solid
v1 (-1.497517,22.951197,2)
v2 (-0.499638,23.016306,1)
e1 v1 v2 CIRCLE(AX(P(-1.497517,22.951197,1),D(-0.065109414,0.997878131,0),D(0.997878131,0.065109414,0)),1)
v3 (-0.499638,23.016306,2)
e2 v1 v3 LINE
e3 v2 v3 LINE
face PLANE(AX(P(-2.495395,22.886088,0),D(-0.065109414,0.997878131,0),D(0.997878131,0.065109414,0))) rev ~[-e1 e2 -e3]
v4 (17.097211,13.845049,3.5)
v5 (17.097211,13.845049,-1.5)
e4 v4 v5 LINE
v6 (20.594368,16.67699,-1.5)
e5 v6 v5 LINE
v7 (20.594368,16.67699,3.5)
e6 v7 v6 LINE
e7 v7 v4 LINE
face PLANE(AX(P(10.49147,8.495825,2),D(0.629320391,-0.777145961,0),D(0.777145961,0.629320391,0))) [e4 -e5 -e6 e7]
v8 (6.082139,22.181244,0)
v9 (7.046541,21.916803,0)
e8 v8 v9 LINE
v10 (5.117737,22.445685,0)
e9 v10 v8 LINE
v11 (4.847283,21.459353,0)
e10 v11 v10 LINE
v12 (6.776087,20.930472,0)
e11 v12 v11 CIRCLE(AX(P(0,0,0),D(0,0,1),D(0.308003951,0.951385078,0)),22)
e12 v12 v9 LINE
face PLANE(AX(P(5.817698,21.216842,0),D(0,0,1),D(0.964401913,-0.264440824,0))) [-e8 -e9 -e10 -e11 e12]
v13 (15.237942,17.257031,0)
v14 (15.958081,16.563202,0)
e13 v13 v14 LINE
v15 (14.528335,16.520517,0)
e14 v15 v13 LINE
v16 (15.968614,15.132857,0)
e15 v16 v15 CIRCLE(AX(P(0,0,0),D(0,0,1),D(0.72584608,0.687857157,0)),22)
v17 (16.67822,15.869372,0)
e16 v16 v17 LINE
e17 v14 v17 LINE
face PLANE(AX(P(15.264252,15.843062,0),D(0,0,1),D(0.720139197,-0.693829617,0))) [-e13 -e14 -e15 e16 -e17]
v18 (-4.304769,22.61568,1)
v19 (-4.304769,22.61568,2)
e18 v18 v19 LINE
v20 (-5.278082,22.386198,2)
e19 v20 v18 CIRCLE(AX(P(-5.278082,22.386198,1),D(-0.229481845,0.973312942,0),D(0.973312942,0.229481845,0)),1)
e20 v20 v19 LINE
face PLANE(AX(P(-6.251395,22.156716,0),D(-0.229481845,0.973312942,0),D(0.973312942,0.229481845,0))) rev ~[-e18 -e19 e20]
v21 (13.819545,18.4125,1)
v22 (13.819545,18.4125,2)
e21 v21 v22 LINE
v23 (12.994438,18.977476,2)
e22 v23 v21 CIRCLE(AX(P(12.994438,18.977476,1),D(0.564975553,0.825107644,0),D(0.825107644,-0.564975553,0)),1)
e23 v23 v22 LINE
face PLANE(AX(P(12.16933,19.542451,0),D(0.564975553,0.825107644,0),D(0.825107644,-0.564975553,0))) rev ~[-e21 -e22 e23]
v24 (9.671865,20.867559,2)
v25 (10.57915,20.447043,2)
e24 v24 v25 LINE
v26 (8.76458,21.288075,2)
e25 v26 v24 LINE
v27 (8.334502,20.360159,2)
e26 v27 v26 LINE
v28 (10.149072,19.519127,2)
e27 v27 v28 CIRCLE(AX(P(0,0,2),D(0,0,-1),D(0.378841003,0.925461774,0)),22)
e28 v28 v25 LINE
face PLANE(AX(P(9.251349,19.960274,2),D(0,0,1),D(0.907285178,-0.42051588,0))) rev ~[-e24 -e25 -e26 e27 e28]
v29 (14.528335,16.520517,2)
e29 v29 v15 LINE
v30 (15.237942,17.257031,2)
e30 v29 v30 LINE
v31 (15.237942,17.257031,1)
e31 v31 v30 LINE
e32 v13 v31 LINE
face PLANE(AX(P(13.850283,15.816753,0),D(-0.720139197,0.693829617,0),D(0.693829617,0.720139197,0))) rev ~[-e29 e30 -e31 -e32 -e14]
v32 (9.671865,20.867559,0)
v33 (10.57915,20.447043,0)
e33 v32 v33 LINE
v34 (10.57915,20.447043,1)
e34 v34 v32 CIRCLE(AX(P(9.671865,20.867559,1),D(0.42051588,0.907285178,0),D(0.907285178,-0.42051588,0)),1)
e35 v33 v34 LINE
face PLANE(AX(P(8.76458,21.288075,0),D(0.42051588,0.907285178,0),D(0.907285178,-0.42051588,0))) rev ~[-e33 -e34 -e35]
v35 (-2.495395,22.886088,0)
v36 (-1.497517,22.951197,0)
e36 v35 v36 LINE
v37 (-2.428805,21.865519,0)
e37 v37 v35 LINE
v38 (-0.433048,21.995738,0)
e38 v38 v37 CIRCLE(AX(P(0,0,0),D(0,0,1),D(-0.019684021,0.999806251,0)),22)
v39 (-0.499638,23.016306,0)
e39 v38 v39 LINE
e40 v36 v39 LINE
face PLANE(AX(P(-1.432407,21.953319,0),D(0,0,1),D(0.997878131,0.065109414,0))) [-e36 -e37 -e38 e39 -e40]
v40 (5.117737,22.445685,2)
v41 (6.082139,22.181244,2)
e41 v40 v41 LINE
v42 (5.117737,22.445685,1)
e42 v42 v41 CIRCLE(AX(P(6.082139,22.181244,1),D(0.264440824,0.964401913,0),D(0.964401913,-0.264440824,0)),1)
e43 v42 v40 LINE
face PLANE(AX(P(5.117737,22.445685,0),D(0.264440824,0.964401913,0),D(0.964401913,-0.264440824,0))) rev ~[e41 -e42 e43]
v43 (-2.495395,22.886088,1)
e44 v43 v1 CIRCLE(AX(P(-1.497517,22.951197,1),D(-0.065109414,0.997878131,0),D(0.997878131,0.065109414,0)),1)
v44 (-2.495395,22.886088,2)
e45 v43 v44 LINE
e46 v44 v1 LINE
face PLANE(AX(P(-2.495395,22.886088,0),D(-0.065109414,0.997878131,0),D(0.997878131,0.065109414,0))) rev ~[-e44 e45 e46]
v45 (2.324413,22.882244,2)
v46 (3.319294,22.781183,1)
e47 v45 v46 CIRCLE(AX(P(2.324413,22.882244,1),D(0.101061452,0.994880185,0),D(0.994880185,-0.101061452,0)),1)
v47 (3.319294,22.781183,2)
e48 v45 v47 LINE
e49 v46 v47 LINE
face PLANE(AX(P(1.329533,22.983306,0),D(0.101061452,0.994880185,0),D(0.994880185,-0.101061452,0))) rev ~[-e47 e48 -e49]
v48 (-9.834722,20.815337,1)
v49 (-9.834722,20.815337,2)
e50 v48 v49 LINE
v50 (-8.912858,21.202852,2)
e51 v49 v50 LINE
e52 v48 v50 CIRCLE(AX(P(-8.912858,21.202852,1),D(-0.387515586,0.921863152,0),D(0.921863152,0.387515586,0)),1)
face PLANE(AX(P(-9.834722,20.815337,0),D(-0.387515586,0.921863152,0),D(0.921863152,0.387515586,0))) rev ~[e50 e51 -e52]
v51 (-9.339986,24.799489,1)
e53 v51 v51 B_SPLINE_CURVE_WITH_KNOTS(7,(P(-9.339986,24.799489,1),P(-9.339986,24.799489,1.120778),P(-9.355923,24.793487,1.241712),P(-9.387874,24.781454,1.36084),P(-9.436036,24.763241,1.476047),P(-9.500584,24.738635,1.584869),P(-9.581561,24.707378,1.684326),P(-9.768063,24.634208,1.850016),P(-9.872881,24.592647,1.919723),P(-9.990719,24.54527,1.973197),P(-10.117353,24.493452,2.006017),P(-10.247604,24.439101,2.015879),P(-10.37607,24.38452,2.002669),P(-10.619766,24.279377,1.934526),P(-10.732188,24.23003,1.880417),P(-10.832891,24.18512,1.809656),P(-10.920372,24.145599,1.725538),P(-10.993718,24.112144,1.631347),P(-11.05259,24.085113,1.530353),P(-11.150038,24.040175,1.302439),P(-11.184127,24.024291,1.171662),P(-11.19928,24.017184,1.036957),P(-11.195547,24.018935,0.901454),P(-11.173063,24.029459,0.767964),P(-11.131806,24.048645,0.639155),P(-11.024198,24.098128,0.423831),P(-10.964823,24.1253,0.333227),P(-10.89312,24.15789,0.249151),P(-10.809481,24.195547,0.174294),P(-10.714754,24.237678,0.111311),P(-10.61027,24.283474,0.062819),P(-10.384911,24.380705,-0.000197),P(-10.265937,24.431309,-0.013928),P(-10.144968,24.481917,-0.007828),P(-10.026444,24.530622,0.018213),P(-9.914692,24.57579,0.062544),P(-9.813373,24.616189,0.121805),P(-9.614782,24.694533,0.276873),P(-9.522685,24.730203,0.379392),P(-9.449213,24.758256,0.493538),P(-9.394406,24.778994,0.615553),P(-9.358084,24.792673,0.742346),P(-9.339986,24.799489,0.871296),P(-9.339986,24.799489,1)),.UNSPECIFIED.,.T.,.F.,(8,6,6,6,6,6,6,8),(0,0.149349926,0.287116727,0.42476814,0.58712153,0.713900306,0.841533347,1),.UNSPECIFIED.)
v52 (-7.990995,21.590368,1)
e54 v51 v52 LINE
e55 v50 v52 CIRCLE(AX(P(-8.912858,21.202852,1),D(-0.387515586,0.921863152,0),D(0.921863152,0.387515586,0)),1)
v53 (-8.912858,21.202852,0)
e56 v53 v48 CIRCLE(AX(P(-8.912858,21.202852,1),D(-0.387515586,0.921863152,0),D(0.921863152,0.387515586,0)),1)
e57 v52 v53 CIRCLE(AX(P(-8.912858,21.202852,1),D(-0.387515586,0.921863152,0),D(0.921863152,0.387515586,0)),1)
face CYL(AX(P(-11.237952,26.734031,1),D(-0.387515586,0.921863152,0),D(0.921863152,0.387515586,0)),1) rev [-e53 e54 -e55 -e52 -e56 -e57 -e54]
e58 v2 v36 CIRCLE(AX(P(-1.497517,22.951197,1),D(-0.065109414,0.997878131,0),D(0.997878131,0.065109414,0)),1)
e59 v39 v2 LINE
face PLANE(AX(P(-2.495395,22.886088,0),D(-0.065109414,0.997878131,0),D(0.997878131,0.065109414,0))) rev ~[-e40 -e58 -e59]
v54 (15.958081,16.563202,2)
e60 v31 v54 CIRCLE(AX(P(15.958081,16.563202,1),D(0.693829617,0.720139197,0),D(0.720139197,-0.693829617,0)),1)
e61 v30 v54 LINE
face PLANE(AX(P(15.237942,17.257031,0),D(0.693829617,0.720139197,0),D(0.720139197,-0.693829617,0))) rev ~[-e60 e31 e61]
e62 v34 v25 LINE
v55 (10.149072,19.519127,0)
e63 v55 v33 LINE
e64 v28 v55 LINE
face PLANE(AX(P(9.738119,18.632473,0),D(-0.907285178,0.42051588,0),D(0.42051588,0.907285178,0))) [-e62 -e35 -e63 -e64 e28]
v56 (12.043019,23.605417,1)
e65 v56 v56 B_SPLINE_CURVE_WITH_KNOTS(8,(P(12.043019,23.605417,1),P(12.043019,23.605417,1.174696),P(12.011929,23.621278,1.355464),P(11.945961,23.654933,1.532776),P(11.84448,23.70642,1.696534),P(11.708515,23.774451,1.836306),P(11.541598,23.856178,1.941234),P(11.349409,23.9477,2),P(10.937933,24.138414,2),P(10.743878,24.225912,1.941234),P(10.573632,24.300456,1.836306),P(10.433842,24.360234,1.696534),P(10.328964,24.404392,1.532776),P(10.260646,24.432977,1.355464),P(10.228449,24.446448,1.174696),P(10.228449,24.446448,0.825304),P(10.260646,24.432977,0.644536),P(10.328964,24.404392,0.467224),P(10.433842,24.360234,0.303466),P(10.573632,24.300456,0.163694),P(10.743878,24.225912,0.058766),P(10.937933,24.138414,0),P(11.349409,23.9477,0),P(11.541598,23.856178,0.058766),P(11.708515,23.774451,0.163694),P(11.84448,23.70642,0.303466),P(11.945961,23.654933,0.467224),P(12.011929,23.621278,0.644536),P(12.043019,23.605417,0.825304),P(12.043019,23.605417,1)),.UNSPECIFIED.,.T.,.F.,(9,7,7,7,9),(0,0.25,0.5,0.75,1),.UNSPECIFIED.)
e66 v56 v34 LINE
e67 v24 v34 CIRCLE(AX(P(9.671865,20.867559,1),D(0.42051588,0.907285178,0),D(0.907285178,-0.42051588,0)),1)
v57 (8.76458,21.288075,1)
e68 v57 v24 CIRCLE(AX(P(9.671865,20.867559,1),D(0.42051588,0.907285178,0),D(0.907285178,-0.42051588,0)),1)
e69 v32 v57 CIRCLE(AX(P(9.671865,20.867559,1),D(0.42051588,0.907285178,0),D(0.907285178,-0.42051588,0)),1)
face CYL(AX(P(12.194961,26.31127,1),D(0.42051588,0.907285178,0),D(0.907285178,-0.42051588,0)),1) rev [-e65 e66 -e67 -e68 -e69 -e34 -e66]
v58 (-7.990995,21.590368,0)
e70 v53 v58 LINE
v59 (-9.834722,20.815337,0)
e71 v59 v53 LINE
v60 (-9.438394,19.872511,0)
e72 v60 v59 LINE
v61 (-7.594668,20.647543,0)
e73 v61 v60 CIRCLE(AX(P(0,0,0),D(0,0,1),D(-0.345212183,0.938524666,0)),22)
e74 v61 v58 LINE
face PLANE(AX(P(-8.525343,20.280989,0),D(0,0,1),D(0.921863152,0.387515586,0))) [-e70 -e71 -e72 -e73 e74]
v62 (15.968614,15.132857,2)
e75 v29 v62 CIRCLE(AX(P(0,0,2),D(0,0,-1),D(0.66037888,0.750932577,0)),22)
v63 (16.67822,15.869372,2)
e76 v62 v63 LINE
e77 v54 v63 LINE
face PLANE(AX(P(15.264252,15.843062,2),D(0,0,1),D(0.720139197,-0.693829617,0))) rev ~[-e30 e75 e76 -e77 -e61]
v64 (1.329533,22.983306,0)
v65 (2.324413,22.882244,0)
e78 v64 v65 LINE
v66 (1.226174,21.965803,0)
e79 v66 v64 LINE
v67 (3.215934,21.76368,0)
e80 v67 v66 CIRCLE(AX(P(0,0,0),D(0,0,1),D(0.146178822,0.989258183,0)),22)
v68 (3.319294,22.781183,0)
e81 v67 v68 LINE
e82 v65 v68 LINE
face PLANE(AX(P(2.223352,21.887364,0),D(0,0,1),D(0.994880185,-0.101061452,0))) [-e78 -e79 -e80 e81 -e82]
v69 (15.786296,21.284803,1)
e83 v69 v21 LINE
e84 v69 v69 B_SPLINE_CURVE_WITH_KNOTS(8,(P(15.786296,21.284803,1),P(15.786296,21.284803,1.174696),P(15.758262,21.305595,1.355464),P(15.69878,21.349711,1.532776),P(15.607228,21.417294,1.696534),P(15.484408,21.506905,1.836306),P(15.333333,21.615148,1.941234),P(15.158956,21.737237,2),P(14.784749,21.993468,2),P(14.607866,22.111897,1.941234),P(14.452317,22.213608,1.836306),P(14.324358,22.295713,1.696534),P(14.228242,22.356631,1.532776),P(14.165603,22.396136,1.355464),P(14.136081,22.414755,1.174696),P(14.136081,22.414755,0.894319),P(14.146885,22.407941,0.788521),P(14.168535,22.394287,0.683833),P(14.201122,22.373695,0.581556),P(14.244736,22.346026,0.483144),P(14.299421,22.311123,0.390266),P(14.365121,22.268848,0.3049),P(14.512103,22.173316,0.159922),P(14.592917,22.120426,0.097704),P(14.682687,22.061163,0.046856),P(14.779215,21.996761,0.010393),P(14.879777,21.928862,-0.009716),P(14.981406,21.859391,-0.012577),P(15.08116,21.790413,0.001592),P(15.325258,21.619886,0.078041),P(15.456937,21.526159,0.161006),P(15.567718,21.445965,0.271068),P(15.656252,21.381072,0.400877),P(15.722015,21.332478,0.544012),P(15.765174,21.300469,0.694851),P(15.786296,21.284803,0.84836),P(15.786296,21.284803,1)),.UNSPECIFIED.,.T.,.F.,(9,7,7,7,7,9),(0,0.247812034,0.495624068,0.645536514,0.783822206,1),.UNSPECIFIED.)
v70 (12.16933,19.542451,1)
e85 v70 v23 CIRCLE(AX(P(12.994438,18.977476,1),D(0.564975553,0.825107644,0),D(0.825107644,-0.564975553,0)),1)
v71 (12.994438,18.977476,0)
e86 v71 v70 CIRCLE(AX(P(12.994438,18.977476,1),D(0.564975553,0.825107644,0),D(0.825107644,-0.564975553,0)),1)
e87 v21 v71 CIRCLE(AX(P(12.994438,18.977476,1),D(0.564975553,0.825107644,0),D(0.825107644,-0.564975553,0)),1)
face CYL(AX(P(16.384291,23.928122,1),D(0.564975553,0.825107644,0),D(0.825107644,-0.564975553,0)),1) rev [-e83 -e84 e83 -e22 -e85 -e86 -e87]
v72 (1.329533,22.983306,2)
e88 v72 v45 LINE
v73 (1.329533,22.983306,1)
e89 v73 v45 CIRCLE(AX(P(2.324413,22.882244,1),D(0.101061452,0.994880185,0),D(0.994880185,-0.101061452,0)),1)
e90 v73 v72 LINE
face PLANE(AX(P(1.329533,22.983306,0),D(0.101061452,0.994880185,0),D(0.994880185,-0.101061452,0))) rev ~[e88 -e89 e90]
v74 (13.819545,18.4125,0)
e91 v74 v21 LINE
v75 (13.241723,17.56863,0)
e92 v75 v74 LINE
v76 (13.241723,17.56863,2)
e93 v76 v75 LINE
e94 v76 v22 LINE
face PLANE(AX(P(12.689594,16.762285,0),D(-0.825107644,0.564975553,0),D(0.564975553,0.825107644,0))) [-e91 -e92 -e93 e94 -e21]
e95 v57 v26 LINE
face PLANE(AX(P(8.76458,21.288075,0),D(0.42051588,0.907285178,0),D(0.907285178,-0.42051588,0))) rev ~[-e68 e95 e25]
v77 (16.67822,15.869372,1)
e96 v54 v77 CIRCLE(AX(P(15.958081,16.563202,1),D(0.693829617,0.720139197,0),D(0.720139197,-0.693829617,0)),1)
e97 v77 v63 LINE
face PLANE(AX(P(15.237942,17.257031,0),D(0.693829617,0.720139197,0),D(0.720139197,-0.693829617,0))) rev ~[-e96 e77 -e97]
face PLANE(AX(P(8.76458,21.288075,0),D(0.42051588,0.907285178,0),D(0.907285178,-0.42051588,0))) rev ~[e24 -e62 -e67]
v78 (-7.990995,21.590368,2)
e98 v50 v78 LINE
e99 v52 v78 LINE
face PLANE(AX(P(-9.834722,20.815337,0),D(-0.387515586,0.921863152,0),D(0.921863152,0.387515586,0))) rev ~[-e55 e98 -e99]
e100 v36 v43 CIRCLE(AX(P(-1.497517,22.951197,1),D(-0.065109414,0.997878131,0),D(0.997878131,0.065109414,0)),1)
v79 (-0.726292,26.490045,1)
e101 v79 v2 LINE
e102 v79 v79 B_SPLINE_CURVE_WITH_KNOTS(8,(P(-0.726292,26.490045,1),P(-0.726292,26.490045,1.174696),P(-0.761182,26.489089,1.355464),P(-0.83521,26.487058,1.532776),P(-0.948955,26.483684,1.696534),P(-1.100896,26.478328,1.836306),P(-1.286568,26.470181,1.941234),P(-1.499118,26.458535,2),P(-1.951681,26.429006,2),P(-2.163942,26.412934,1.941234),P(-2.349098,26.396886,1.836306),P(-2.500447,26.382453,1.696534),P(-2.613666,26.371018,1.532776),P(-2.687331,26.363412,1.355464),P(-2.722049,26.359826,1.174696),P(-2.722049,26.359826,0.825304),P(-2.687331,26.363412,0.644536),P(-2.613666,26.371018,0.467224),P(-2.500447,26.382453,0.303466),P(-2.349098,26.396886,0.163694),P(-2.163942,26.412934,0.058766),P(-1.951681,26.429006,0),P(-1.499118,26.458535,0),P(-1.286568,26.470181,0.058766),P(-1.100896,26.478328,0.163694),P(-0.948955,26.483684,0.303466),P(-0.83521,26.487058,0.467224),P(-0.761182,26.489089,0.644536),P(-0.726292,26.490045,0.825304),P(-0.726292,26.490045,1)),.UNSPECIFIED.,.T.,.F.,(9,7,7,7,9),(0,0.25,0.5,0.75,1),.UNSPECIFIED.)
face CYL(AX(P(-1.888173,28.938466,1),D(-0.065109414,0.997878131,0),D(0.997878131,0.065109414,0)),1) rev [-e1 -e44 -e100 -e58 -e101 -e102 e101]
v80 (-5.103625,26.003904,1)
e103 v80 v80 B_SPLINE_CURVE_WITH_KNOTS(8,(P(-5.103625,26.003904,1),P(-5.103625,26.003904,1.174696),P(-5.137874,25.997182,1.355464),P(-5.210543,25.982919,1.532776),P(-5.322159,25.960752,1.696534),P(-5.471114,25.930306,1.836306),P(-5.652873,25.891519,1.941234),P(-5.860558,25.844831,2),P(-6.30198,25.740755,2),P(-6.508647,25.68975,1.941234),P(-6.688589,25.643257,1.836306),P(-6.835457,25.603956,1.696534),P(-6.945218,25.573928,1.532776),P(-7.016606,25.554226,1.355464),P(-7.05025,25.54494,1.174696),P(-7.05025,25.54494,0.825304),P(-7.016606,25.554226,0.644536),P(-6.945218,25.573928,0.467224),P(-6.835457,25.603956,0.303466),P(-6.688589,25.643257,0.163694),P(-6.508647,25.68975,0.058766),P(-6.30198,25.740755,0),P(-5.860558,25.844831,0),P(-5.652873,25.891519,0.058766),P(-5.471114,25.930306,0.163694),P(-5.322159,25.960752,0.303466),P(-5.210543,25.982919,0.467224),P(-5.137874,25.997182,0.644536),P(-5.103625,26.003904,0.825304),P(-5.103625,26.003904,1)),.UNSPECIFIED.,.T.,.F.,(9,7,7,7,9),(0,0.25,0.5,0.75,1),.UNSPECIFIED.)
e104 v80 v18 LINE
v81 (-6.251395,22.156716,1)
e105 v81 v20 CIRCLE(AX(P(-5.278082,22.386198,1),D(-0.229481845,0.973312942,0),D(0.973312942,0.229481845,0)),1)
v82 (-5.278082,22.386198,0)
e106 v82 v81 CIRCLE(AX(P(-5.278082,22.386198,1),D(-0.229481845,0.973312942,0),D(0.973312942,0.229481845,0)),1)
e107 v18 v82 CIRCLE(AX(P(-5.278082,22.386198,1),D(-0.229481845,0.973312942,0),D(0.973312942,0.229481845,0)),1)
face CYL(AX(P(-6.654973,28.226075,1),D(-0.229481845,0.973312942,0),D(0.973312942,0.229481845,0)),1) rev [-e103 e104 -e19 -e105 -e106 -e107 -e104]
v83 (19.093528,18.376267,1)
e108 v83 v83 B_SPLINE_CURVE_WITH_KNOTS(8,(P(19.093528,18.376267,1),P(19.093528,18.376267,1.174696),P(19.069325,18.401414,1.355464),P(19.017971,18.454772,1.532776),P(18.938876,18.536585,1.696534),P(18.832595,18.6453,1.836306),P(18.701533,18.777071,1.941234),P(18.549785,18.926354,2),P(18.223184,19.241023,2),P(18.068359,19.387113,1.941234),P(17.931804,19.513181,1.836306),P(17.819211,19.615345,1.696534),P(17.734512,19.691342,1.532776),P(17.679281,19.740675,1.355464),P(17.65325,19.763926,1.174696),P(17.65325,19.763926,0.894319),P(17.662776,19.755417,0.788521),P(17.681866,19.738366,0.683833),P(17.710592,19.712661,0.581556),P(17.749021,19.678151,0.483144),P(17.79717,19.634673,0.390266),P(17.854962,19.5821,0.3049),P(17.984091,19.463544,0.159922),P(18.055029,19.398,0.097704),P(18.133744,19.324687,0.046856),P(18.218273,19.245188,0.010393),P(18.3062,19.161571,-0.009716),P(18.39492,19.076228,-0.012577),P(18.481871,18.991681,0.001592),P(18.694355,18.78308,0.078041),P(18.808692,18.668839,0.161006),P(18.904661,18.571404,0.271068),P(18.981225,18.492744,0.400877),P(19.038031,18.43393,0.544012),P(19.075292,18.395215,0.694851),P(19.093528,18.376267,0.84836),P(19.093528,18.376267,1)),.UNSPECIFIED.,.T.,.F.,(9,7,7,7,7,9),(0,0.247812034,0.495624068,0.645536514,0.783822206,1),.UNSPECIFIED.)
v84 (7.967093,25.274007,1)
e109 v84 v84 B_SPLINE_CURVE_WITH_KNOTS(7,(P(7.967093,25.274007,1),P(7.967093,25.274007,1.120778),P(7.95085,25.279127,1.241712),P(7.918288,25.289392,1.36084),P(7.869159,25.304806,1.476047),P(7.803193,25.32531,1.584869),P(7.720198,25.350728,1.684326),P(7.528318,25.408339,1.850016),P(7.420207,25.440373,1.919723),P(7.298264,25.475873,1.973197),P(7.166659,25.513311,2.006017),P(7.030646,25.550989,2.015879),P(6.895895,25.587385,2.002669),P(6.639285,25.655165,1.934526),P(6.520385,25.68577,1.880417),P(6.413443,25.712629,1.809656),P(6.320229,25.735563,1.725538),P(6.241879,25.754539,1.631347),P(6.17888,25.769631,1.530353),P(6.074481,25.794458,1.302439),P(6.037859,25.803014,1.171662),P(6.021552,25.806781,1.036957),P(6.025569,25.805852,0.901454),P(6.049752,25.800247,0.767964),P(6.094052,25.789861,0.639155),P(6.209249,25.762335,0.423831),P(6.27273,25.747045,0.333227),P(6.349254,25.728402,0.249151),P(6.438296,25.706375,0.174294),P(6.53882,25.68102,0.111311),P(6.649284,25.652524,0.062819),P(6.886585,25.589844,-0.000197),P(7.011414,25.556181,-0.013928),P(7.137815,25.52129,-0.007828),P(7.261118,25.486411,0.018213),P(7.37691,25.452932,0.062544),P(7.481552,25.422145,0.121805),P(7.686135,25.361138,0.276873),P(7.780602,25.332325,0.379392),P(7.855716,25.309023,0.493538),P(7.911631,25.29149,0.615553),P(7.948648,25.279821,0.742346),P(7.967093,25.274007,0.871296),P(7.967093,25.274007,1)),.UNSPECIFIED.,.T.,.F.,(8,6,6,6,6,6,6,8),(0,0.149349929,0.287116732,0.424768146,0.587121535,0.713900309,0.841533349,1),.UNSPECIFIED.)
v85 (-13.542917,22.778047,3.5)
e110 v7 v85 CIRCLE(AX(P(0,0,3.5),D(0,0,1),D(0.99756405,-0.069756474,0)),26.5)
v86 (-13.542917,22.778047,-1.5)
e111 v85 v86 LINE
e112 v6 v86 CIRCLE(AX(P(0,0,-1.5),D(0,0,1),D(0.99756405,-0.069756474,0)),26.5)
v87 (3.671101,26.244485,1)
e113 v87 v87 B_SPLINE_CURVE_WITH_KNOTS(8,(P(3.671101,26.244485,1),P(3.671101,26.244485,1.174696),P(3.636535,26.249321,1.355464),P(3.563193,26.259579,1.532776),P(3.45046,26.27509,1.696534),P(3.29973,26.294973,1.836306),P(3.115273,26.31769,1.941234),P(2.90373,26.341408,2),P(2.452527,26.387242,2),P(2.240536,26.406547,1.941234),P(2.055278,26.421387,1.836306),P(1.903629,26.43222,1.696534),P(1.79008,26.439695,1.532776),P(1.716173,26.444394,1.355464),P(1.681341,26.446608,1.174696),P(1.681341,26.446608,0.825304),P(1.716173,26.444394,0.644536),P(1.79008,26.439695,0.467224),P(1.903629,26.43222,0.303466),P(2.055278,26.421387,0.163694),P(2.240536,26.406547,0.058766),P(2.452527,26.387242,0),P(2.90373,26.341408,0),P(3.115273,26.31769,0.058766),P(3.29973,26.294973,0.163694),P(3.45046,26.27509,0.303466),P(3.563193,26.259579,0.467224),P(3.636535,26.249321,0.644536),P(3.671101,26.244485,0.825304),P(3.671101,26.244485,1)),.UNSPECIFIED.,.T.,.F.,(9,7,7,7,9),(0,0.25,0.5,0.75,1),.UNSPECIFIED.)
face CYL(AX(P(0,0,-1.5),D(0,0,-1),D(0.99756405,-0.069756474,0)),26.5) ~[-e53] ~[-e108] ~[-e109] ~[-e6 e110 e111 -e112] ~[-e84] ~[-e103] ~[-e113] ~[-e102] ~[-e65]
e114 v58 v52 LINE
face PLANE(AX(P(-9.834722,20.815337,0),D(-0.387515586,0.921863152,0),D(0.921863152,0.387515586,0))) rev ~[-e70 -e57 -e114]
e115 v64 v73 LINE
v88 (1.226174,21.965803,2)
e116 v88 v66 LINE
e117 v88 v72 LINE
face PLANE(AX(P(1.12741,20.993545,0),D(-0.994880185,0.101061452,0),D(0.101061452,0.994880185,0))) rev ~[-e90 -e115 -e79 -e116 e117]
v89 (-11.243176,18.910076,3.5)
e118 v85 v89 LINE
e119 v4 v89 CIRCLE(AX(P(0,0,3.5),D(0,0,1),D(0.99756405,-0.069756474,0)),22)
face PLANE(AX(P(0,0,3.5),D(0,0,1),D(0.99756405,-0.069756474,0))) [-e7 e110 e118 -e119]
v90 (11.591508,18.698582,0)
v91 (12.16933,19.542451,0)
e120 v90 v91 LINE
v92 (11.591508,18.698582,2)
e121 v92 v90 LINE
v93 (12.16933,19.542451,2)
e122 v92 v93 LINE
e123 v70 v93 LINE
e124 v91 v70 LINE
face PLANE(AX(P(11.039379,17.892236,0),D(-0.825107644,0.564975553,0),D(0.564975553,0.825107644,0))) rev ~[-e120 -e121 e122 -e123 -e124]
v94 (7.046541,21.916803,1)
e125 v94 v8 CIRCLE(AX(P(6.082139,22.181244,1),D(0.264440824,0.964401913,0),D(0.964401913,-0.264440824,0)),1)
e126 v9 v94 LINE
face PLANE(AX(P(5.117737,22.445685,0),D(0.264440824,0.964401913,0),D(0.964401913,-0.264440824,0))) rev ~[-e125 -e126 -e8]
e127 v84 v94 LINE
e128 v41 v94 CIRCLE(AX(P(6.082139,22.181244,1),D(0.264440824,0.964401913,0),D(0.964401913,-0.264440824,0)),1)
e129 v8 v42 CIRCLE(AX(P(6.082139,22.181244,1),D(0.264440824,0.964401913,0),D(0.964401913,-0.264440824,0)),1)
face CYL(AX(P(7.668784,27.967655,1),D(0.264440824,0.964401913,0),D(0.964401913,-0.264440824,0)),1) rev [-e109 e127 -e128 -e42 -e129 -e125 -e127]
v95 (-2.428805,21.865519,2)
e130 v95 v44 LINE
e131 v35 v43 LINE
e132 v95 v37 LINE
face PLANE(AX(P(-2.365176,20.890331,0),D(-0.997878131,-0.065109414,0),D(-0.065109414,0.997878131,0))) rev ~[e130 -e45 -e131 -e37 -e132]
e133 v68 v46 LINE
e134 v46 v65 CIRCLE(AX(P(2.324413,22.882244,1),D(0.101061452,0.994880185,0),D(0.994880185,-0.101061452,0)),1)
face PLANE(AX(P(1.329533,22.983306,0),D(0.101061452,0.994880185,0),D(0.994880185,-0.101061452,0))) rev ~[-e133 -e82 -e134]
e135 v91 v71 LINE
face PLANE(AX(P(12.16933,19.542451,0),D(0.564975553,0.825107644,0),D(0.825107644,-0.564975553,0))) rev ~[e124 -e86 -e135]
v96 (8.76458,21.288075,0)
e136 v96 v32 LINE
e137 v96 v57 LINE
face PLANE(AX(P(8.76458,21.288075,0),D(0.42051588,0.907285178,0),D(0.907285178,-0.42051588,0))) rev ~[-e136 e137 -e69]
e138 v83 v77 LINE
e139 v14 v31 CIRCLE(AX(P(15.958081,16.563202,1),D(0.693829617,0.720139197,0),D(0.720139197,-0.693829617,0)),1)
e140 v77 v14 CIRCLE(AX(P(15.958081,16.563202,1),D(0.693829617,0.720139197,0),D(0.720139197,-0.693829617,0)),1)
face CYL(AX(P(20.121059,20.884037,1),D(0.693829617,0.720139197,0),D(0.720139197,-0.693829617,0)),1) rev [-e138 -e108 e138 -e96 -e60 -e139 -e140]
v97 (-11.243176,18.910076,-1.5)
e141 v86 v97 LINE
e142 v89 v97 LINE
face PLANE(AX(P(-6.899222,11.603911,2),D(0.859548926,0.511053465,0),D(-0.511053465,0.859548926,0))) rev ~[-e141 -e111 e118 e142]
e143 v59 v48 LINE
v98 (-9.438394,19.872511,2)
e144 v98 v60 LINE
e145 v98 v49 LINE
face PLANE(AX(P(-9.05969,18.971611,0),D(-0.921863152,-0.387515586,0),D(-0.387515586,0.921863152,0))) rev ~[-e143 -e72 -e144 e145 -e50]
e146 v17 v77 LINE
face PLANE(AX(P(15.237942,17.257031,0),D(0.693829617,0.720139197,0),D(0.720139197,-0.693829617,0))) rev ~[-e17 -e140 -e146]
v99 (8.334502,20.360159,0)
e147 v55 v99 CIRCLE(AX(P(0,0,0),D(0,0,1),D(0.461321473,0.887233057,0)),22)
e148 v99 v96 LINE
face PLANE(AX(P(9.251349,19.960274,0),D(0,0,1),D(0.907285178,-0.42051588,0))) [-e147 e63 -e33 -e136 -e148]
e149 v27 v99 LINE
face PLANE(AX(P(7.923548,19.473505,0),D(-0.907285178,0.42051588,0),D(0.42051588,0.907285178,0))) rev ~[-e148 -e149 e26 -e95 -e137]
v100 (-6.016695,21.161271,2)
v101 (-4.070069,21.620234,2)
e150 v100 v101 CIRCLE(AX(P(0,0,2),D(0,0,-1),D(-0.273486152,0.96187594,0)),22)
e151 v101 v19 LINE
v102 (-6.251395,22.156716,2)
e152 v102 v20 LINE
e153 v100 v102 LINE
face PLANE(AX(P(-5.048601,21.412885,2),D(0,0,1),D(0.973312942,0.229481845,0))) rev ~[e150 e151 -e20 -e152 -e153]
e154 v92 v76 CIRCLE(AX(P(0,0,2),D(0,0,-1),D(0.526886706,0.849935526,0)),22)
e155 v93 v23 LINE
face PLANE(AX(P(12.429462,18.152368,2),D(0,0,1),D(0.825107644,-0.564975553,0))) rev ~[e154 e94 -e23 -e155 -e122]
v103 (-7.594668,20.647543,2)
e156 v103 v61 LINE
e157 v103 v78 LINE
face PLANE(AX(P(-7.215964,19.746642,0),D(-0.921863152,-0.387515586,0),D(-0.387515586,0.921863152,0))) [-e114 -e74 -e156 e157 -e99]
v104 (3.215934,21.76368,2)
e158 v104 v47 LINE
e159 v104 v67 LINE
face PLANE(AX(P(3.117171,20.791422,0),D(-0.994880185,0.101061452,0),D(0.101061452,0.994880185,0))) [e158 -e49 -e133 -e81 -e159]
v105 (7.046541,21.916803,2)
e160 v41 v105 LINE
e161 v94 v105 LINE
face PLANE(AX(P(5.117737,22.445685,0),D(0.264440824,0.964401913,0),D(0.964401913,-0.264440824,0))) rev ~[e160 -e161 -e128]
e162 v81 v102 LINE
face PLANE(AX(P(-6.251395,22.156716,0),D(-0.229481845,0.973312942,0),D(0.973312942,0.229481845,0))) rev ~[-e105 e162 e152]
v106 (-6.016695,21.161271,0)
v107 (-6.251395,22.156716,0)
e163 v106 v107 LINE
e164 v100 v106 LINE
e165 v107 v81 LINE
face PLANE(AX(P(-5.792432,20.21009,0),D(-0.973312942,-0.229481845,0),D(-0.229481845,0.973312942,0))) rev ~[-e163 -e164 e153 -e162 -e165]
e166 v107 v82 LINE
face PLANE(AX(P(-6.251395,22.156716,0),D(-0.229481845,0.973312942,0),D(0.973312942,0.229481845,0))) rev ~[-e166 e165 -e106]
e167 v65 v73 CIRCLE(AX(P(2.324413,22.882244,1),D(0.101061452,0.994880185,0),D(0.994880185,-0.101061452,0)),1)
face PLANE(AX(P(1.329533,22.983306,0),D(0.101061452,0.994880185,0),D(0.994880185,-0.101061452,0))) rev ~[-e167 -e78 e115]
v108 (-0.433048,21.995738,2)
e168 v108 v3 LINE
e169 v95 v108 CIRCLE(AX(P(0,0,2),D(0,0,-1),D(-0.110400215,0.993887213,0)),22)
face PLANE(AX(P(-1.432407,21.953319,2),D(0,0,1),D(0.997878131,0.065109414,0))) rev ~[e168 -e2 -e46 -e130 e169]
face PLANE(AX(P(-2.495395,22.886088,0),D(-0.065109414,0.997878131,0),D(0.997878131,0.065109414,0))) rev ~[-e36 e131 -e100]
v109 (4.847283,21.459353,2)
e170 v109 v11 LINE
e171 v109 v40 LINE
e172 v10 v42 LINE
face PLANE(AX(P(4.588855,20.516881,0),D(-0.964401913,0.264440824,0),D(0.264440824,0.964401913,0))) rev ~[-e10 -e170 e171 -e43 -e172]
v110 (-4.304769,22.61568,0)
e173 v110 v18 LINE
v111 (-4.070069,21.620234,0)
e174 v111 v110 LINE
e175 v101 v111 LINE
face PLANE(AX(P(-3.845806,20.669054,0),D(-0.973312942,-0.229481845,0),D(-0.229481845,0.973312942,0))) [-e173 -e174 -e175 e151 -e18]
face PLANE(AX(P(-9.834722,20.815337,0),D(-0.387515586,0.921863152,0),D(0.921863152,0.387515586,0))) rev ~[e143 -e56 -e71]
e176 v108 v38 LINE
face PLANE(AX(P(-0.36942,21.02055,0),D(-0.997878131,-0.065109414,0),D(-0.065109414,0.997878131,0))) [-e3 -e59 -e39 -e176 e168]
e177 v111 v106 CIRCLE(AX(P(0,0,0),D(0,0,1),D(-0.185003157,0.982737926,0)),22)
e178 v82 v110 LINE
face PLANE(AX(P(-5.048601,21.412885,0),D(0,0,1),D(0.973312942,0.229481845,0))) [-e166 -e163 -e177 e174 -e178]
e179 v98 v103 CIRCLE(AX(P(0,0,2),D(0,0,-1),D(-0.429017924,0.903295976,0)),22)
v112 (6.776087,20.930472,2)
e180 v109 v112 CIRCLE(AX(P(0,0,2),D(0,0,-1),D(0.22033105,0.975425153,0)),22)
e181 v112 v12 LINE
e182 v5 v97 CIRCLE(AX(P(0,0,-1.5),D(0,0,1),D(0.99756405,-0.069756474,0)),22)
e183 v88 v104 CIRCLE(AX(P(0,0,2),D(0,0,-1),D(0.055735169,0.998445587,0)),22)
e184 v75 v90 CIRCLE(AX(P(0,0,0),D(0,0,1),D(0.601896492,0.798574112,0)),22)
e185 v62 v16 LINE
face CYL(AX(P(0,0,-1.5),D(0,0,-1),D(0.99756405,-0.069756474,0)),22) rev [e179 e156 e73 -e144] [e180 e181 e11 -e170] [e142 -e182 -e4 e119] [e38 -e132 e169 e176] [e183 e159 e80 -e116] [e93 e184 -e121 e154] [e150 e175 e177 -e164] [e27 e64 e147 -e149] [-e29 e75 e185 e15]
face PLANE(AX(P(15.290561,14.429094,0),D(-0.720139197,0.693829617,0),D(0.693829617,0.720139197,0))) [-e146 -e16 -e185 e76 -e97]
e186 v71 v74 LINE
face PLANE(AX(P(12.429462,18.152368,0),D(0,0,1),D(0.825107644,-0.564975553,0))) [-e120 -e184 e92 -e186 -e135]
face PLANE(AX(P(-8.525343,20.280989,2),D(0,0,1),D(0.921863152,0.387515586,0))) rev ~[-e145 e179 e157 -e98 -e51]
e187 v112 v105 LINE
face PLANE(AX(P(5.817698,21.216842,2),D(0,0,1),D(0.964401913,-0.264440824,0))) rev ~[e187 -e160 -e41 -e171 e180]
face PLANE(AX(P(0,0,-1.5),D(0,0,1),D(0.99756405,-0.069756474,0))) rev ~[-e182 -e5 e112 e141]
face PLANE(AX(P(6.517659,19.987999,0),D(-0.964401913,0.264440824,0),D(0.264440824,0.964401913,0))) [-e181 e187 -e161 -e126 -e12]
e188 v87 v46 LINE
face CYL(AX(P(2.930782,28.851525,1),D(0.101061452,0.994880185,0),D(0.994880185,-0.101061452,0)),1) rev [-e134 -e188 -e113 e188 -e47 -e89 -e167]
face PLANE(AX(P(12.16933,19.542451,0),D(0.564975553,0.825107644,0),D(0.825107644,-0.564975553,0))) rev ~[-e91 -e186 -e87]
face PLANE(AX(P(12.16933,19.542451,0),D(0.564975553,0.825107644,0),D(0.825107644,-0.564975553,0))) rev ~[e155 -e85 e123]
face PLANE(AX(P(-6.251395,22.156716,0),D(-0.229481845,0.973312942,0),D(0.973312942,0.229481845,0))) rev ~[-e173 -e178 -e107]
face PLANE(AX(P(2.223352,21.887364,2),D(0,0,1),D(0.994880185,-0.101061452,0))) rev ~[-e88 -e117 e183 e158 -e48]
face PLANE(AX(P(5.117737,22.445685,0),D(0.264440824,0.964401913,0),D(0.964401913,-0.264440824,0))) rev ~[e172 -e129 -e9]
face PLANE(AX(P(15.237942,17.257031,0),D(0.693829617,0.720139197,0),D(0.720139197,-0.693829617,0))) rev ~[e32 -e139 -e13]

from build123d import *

# Parameters (mm, degrees)
BOX_W                       = 2
BOX_H                       = 2
BOX_DEPTH                   = 2
CYLINDER_R                  = 1
CYLINDER_DEPTH              = 7
ARRAY_COUNT                 = 8
ARRAY_ANGLE                 = -66.734026
ARRAY_PLACEMENT_ANGLE       = 22.8
TUBE001_R                   = 26.5
TUBE001_R_2                 = 22
TUBE001_DEPTH               = 5
CYLINDER003_W               = 27
CYLINDER003_H               = 10
CYLINDER003_ANGLE           = 81.734026
CYLINDER003_PLACEMENT_ANGLE = 43
COMMON001_PLACEMENT_ANGLE   = 4


with BuildPart() as cube:
    # Box → Box (new body)
    with BuildSketch(Plane(origin=(-1, 21, 0), x_dir=(1, 0, 0), z_dir=(0, 0, 1))):
        with Locations((1, 1)):
            Rectangle(BOX_W, BOX_H)
    extrude(amount=BOX_DEPTH)


with BuildPart() as bodyside_contacts:
    # Cylinder → Cylinder (new body)
    with BuildSketch(Plane(origin=(0, 29, 1), x_dir=(1, 0, 0), z_dir=(0, -1, 0))):
        Circle(CYLINDER_R)
    extrude(amount=CYLINDER_DEPTH)

    # Fusion: union Cube
    add(cube.part)

    # Array: BodySide_Contacts ×8 about axis
    array_axis = Axis((0, 0, 0), (0, 0, 1))


with BuildPart() as bodyside_contacts_1:
    add(bodyside_contacts.part)
    for i in range(1, ARRAY_COUNT):
        add(bodyside_contacts.part.rotate(array_axis, i * ARRAY_ANGLE / (ARRAY_COUNT - 1)))


with BuildPart() as bodyside_contacts_2:
    # Array placement: moved
    add(bodyside_contacts_1.part.rotate(Axis((0, 0, 0), (0, 0, 1)), ARRAY_PLACEMENT_ANGLE))


with BuildPart() as tube001:
    # Tube001 → Tube001 (new body)
    with BuildSketch(Plane.XY.offset(-1.5)):
        Circle(TUBE001_R)
        Circle(TUBE001_R_2, mode=Mode.SUBTRACT)
    extrude(amount=TUBE001_DEPTH)


with BuildPart() as cut001:
    # Cylinder003 → Cylinder003 (revolve)
    with BuildSketch(Plane.XZ):
        with Locations((13.5, 5)):
            Rectangle(CYLINDER003_W, CYLINDER003_H)
    revolve(axis=Axis((0, 0, 0), (0, 0, 1)), revolution_arc=CYLINDER003_ANGLE)


with BuildPart() as cut001_1:
    # Cylinder003 placement: moved
    add(cut001.part.moved(Location((0, 0, -3))).rotate(Axis((0, 0, -3), (0, 0, 1)), CYLINDER003_PLACEMENT_ANGLE))

    # Common001: intersect Tube001
    add(tube001.part, mode=Mode.INTERSECT)


with BuildPart() as cut001_2:
    # Common001 placement: moved
    add(cut001_1.part.rotate(Axis((0, 0, 0), (0, 0, -1)), COMMON001_PLACEMENT_ANGLE))

    # Cut001: cut BodySide_Contacts
    add(bodyside_contacts_2.part, mode=Mode.SUBTRACT)


solid = cut001_2.part
